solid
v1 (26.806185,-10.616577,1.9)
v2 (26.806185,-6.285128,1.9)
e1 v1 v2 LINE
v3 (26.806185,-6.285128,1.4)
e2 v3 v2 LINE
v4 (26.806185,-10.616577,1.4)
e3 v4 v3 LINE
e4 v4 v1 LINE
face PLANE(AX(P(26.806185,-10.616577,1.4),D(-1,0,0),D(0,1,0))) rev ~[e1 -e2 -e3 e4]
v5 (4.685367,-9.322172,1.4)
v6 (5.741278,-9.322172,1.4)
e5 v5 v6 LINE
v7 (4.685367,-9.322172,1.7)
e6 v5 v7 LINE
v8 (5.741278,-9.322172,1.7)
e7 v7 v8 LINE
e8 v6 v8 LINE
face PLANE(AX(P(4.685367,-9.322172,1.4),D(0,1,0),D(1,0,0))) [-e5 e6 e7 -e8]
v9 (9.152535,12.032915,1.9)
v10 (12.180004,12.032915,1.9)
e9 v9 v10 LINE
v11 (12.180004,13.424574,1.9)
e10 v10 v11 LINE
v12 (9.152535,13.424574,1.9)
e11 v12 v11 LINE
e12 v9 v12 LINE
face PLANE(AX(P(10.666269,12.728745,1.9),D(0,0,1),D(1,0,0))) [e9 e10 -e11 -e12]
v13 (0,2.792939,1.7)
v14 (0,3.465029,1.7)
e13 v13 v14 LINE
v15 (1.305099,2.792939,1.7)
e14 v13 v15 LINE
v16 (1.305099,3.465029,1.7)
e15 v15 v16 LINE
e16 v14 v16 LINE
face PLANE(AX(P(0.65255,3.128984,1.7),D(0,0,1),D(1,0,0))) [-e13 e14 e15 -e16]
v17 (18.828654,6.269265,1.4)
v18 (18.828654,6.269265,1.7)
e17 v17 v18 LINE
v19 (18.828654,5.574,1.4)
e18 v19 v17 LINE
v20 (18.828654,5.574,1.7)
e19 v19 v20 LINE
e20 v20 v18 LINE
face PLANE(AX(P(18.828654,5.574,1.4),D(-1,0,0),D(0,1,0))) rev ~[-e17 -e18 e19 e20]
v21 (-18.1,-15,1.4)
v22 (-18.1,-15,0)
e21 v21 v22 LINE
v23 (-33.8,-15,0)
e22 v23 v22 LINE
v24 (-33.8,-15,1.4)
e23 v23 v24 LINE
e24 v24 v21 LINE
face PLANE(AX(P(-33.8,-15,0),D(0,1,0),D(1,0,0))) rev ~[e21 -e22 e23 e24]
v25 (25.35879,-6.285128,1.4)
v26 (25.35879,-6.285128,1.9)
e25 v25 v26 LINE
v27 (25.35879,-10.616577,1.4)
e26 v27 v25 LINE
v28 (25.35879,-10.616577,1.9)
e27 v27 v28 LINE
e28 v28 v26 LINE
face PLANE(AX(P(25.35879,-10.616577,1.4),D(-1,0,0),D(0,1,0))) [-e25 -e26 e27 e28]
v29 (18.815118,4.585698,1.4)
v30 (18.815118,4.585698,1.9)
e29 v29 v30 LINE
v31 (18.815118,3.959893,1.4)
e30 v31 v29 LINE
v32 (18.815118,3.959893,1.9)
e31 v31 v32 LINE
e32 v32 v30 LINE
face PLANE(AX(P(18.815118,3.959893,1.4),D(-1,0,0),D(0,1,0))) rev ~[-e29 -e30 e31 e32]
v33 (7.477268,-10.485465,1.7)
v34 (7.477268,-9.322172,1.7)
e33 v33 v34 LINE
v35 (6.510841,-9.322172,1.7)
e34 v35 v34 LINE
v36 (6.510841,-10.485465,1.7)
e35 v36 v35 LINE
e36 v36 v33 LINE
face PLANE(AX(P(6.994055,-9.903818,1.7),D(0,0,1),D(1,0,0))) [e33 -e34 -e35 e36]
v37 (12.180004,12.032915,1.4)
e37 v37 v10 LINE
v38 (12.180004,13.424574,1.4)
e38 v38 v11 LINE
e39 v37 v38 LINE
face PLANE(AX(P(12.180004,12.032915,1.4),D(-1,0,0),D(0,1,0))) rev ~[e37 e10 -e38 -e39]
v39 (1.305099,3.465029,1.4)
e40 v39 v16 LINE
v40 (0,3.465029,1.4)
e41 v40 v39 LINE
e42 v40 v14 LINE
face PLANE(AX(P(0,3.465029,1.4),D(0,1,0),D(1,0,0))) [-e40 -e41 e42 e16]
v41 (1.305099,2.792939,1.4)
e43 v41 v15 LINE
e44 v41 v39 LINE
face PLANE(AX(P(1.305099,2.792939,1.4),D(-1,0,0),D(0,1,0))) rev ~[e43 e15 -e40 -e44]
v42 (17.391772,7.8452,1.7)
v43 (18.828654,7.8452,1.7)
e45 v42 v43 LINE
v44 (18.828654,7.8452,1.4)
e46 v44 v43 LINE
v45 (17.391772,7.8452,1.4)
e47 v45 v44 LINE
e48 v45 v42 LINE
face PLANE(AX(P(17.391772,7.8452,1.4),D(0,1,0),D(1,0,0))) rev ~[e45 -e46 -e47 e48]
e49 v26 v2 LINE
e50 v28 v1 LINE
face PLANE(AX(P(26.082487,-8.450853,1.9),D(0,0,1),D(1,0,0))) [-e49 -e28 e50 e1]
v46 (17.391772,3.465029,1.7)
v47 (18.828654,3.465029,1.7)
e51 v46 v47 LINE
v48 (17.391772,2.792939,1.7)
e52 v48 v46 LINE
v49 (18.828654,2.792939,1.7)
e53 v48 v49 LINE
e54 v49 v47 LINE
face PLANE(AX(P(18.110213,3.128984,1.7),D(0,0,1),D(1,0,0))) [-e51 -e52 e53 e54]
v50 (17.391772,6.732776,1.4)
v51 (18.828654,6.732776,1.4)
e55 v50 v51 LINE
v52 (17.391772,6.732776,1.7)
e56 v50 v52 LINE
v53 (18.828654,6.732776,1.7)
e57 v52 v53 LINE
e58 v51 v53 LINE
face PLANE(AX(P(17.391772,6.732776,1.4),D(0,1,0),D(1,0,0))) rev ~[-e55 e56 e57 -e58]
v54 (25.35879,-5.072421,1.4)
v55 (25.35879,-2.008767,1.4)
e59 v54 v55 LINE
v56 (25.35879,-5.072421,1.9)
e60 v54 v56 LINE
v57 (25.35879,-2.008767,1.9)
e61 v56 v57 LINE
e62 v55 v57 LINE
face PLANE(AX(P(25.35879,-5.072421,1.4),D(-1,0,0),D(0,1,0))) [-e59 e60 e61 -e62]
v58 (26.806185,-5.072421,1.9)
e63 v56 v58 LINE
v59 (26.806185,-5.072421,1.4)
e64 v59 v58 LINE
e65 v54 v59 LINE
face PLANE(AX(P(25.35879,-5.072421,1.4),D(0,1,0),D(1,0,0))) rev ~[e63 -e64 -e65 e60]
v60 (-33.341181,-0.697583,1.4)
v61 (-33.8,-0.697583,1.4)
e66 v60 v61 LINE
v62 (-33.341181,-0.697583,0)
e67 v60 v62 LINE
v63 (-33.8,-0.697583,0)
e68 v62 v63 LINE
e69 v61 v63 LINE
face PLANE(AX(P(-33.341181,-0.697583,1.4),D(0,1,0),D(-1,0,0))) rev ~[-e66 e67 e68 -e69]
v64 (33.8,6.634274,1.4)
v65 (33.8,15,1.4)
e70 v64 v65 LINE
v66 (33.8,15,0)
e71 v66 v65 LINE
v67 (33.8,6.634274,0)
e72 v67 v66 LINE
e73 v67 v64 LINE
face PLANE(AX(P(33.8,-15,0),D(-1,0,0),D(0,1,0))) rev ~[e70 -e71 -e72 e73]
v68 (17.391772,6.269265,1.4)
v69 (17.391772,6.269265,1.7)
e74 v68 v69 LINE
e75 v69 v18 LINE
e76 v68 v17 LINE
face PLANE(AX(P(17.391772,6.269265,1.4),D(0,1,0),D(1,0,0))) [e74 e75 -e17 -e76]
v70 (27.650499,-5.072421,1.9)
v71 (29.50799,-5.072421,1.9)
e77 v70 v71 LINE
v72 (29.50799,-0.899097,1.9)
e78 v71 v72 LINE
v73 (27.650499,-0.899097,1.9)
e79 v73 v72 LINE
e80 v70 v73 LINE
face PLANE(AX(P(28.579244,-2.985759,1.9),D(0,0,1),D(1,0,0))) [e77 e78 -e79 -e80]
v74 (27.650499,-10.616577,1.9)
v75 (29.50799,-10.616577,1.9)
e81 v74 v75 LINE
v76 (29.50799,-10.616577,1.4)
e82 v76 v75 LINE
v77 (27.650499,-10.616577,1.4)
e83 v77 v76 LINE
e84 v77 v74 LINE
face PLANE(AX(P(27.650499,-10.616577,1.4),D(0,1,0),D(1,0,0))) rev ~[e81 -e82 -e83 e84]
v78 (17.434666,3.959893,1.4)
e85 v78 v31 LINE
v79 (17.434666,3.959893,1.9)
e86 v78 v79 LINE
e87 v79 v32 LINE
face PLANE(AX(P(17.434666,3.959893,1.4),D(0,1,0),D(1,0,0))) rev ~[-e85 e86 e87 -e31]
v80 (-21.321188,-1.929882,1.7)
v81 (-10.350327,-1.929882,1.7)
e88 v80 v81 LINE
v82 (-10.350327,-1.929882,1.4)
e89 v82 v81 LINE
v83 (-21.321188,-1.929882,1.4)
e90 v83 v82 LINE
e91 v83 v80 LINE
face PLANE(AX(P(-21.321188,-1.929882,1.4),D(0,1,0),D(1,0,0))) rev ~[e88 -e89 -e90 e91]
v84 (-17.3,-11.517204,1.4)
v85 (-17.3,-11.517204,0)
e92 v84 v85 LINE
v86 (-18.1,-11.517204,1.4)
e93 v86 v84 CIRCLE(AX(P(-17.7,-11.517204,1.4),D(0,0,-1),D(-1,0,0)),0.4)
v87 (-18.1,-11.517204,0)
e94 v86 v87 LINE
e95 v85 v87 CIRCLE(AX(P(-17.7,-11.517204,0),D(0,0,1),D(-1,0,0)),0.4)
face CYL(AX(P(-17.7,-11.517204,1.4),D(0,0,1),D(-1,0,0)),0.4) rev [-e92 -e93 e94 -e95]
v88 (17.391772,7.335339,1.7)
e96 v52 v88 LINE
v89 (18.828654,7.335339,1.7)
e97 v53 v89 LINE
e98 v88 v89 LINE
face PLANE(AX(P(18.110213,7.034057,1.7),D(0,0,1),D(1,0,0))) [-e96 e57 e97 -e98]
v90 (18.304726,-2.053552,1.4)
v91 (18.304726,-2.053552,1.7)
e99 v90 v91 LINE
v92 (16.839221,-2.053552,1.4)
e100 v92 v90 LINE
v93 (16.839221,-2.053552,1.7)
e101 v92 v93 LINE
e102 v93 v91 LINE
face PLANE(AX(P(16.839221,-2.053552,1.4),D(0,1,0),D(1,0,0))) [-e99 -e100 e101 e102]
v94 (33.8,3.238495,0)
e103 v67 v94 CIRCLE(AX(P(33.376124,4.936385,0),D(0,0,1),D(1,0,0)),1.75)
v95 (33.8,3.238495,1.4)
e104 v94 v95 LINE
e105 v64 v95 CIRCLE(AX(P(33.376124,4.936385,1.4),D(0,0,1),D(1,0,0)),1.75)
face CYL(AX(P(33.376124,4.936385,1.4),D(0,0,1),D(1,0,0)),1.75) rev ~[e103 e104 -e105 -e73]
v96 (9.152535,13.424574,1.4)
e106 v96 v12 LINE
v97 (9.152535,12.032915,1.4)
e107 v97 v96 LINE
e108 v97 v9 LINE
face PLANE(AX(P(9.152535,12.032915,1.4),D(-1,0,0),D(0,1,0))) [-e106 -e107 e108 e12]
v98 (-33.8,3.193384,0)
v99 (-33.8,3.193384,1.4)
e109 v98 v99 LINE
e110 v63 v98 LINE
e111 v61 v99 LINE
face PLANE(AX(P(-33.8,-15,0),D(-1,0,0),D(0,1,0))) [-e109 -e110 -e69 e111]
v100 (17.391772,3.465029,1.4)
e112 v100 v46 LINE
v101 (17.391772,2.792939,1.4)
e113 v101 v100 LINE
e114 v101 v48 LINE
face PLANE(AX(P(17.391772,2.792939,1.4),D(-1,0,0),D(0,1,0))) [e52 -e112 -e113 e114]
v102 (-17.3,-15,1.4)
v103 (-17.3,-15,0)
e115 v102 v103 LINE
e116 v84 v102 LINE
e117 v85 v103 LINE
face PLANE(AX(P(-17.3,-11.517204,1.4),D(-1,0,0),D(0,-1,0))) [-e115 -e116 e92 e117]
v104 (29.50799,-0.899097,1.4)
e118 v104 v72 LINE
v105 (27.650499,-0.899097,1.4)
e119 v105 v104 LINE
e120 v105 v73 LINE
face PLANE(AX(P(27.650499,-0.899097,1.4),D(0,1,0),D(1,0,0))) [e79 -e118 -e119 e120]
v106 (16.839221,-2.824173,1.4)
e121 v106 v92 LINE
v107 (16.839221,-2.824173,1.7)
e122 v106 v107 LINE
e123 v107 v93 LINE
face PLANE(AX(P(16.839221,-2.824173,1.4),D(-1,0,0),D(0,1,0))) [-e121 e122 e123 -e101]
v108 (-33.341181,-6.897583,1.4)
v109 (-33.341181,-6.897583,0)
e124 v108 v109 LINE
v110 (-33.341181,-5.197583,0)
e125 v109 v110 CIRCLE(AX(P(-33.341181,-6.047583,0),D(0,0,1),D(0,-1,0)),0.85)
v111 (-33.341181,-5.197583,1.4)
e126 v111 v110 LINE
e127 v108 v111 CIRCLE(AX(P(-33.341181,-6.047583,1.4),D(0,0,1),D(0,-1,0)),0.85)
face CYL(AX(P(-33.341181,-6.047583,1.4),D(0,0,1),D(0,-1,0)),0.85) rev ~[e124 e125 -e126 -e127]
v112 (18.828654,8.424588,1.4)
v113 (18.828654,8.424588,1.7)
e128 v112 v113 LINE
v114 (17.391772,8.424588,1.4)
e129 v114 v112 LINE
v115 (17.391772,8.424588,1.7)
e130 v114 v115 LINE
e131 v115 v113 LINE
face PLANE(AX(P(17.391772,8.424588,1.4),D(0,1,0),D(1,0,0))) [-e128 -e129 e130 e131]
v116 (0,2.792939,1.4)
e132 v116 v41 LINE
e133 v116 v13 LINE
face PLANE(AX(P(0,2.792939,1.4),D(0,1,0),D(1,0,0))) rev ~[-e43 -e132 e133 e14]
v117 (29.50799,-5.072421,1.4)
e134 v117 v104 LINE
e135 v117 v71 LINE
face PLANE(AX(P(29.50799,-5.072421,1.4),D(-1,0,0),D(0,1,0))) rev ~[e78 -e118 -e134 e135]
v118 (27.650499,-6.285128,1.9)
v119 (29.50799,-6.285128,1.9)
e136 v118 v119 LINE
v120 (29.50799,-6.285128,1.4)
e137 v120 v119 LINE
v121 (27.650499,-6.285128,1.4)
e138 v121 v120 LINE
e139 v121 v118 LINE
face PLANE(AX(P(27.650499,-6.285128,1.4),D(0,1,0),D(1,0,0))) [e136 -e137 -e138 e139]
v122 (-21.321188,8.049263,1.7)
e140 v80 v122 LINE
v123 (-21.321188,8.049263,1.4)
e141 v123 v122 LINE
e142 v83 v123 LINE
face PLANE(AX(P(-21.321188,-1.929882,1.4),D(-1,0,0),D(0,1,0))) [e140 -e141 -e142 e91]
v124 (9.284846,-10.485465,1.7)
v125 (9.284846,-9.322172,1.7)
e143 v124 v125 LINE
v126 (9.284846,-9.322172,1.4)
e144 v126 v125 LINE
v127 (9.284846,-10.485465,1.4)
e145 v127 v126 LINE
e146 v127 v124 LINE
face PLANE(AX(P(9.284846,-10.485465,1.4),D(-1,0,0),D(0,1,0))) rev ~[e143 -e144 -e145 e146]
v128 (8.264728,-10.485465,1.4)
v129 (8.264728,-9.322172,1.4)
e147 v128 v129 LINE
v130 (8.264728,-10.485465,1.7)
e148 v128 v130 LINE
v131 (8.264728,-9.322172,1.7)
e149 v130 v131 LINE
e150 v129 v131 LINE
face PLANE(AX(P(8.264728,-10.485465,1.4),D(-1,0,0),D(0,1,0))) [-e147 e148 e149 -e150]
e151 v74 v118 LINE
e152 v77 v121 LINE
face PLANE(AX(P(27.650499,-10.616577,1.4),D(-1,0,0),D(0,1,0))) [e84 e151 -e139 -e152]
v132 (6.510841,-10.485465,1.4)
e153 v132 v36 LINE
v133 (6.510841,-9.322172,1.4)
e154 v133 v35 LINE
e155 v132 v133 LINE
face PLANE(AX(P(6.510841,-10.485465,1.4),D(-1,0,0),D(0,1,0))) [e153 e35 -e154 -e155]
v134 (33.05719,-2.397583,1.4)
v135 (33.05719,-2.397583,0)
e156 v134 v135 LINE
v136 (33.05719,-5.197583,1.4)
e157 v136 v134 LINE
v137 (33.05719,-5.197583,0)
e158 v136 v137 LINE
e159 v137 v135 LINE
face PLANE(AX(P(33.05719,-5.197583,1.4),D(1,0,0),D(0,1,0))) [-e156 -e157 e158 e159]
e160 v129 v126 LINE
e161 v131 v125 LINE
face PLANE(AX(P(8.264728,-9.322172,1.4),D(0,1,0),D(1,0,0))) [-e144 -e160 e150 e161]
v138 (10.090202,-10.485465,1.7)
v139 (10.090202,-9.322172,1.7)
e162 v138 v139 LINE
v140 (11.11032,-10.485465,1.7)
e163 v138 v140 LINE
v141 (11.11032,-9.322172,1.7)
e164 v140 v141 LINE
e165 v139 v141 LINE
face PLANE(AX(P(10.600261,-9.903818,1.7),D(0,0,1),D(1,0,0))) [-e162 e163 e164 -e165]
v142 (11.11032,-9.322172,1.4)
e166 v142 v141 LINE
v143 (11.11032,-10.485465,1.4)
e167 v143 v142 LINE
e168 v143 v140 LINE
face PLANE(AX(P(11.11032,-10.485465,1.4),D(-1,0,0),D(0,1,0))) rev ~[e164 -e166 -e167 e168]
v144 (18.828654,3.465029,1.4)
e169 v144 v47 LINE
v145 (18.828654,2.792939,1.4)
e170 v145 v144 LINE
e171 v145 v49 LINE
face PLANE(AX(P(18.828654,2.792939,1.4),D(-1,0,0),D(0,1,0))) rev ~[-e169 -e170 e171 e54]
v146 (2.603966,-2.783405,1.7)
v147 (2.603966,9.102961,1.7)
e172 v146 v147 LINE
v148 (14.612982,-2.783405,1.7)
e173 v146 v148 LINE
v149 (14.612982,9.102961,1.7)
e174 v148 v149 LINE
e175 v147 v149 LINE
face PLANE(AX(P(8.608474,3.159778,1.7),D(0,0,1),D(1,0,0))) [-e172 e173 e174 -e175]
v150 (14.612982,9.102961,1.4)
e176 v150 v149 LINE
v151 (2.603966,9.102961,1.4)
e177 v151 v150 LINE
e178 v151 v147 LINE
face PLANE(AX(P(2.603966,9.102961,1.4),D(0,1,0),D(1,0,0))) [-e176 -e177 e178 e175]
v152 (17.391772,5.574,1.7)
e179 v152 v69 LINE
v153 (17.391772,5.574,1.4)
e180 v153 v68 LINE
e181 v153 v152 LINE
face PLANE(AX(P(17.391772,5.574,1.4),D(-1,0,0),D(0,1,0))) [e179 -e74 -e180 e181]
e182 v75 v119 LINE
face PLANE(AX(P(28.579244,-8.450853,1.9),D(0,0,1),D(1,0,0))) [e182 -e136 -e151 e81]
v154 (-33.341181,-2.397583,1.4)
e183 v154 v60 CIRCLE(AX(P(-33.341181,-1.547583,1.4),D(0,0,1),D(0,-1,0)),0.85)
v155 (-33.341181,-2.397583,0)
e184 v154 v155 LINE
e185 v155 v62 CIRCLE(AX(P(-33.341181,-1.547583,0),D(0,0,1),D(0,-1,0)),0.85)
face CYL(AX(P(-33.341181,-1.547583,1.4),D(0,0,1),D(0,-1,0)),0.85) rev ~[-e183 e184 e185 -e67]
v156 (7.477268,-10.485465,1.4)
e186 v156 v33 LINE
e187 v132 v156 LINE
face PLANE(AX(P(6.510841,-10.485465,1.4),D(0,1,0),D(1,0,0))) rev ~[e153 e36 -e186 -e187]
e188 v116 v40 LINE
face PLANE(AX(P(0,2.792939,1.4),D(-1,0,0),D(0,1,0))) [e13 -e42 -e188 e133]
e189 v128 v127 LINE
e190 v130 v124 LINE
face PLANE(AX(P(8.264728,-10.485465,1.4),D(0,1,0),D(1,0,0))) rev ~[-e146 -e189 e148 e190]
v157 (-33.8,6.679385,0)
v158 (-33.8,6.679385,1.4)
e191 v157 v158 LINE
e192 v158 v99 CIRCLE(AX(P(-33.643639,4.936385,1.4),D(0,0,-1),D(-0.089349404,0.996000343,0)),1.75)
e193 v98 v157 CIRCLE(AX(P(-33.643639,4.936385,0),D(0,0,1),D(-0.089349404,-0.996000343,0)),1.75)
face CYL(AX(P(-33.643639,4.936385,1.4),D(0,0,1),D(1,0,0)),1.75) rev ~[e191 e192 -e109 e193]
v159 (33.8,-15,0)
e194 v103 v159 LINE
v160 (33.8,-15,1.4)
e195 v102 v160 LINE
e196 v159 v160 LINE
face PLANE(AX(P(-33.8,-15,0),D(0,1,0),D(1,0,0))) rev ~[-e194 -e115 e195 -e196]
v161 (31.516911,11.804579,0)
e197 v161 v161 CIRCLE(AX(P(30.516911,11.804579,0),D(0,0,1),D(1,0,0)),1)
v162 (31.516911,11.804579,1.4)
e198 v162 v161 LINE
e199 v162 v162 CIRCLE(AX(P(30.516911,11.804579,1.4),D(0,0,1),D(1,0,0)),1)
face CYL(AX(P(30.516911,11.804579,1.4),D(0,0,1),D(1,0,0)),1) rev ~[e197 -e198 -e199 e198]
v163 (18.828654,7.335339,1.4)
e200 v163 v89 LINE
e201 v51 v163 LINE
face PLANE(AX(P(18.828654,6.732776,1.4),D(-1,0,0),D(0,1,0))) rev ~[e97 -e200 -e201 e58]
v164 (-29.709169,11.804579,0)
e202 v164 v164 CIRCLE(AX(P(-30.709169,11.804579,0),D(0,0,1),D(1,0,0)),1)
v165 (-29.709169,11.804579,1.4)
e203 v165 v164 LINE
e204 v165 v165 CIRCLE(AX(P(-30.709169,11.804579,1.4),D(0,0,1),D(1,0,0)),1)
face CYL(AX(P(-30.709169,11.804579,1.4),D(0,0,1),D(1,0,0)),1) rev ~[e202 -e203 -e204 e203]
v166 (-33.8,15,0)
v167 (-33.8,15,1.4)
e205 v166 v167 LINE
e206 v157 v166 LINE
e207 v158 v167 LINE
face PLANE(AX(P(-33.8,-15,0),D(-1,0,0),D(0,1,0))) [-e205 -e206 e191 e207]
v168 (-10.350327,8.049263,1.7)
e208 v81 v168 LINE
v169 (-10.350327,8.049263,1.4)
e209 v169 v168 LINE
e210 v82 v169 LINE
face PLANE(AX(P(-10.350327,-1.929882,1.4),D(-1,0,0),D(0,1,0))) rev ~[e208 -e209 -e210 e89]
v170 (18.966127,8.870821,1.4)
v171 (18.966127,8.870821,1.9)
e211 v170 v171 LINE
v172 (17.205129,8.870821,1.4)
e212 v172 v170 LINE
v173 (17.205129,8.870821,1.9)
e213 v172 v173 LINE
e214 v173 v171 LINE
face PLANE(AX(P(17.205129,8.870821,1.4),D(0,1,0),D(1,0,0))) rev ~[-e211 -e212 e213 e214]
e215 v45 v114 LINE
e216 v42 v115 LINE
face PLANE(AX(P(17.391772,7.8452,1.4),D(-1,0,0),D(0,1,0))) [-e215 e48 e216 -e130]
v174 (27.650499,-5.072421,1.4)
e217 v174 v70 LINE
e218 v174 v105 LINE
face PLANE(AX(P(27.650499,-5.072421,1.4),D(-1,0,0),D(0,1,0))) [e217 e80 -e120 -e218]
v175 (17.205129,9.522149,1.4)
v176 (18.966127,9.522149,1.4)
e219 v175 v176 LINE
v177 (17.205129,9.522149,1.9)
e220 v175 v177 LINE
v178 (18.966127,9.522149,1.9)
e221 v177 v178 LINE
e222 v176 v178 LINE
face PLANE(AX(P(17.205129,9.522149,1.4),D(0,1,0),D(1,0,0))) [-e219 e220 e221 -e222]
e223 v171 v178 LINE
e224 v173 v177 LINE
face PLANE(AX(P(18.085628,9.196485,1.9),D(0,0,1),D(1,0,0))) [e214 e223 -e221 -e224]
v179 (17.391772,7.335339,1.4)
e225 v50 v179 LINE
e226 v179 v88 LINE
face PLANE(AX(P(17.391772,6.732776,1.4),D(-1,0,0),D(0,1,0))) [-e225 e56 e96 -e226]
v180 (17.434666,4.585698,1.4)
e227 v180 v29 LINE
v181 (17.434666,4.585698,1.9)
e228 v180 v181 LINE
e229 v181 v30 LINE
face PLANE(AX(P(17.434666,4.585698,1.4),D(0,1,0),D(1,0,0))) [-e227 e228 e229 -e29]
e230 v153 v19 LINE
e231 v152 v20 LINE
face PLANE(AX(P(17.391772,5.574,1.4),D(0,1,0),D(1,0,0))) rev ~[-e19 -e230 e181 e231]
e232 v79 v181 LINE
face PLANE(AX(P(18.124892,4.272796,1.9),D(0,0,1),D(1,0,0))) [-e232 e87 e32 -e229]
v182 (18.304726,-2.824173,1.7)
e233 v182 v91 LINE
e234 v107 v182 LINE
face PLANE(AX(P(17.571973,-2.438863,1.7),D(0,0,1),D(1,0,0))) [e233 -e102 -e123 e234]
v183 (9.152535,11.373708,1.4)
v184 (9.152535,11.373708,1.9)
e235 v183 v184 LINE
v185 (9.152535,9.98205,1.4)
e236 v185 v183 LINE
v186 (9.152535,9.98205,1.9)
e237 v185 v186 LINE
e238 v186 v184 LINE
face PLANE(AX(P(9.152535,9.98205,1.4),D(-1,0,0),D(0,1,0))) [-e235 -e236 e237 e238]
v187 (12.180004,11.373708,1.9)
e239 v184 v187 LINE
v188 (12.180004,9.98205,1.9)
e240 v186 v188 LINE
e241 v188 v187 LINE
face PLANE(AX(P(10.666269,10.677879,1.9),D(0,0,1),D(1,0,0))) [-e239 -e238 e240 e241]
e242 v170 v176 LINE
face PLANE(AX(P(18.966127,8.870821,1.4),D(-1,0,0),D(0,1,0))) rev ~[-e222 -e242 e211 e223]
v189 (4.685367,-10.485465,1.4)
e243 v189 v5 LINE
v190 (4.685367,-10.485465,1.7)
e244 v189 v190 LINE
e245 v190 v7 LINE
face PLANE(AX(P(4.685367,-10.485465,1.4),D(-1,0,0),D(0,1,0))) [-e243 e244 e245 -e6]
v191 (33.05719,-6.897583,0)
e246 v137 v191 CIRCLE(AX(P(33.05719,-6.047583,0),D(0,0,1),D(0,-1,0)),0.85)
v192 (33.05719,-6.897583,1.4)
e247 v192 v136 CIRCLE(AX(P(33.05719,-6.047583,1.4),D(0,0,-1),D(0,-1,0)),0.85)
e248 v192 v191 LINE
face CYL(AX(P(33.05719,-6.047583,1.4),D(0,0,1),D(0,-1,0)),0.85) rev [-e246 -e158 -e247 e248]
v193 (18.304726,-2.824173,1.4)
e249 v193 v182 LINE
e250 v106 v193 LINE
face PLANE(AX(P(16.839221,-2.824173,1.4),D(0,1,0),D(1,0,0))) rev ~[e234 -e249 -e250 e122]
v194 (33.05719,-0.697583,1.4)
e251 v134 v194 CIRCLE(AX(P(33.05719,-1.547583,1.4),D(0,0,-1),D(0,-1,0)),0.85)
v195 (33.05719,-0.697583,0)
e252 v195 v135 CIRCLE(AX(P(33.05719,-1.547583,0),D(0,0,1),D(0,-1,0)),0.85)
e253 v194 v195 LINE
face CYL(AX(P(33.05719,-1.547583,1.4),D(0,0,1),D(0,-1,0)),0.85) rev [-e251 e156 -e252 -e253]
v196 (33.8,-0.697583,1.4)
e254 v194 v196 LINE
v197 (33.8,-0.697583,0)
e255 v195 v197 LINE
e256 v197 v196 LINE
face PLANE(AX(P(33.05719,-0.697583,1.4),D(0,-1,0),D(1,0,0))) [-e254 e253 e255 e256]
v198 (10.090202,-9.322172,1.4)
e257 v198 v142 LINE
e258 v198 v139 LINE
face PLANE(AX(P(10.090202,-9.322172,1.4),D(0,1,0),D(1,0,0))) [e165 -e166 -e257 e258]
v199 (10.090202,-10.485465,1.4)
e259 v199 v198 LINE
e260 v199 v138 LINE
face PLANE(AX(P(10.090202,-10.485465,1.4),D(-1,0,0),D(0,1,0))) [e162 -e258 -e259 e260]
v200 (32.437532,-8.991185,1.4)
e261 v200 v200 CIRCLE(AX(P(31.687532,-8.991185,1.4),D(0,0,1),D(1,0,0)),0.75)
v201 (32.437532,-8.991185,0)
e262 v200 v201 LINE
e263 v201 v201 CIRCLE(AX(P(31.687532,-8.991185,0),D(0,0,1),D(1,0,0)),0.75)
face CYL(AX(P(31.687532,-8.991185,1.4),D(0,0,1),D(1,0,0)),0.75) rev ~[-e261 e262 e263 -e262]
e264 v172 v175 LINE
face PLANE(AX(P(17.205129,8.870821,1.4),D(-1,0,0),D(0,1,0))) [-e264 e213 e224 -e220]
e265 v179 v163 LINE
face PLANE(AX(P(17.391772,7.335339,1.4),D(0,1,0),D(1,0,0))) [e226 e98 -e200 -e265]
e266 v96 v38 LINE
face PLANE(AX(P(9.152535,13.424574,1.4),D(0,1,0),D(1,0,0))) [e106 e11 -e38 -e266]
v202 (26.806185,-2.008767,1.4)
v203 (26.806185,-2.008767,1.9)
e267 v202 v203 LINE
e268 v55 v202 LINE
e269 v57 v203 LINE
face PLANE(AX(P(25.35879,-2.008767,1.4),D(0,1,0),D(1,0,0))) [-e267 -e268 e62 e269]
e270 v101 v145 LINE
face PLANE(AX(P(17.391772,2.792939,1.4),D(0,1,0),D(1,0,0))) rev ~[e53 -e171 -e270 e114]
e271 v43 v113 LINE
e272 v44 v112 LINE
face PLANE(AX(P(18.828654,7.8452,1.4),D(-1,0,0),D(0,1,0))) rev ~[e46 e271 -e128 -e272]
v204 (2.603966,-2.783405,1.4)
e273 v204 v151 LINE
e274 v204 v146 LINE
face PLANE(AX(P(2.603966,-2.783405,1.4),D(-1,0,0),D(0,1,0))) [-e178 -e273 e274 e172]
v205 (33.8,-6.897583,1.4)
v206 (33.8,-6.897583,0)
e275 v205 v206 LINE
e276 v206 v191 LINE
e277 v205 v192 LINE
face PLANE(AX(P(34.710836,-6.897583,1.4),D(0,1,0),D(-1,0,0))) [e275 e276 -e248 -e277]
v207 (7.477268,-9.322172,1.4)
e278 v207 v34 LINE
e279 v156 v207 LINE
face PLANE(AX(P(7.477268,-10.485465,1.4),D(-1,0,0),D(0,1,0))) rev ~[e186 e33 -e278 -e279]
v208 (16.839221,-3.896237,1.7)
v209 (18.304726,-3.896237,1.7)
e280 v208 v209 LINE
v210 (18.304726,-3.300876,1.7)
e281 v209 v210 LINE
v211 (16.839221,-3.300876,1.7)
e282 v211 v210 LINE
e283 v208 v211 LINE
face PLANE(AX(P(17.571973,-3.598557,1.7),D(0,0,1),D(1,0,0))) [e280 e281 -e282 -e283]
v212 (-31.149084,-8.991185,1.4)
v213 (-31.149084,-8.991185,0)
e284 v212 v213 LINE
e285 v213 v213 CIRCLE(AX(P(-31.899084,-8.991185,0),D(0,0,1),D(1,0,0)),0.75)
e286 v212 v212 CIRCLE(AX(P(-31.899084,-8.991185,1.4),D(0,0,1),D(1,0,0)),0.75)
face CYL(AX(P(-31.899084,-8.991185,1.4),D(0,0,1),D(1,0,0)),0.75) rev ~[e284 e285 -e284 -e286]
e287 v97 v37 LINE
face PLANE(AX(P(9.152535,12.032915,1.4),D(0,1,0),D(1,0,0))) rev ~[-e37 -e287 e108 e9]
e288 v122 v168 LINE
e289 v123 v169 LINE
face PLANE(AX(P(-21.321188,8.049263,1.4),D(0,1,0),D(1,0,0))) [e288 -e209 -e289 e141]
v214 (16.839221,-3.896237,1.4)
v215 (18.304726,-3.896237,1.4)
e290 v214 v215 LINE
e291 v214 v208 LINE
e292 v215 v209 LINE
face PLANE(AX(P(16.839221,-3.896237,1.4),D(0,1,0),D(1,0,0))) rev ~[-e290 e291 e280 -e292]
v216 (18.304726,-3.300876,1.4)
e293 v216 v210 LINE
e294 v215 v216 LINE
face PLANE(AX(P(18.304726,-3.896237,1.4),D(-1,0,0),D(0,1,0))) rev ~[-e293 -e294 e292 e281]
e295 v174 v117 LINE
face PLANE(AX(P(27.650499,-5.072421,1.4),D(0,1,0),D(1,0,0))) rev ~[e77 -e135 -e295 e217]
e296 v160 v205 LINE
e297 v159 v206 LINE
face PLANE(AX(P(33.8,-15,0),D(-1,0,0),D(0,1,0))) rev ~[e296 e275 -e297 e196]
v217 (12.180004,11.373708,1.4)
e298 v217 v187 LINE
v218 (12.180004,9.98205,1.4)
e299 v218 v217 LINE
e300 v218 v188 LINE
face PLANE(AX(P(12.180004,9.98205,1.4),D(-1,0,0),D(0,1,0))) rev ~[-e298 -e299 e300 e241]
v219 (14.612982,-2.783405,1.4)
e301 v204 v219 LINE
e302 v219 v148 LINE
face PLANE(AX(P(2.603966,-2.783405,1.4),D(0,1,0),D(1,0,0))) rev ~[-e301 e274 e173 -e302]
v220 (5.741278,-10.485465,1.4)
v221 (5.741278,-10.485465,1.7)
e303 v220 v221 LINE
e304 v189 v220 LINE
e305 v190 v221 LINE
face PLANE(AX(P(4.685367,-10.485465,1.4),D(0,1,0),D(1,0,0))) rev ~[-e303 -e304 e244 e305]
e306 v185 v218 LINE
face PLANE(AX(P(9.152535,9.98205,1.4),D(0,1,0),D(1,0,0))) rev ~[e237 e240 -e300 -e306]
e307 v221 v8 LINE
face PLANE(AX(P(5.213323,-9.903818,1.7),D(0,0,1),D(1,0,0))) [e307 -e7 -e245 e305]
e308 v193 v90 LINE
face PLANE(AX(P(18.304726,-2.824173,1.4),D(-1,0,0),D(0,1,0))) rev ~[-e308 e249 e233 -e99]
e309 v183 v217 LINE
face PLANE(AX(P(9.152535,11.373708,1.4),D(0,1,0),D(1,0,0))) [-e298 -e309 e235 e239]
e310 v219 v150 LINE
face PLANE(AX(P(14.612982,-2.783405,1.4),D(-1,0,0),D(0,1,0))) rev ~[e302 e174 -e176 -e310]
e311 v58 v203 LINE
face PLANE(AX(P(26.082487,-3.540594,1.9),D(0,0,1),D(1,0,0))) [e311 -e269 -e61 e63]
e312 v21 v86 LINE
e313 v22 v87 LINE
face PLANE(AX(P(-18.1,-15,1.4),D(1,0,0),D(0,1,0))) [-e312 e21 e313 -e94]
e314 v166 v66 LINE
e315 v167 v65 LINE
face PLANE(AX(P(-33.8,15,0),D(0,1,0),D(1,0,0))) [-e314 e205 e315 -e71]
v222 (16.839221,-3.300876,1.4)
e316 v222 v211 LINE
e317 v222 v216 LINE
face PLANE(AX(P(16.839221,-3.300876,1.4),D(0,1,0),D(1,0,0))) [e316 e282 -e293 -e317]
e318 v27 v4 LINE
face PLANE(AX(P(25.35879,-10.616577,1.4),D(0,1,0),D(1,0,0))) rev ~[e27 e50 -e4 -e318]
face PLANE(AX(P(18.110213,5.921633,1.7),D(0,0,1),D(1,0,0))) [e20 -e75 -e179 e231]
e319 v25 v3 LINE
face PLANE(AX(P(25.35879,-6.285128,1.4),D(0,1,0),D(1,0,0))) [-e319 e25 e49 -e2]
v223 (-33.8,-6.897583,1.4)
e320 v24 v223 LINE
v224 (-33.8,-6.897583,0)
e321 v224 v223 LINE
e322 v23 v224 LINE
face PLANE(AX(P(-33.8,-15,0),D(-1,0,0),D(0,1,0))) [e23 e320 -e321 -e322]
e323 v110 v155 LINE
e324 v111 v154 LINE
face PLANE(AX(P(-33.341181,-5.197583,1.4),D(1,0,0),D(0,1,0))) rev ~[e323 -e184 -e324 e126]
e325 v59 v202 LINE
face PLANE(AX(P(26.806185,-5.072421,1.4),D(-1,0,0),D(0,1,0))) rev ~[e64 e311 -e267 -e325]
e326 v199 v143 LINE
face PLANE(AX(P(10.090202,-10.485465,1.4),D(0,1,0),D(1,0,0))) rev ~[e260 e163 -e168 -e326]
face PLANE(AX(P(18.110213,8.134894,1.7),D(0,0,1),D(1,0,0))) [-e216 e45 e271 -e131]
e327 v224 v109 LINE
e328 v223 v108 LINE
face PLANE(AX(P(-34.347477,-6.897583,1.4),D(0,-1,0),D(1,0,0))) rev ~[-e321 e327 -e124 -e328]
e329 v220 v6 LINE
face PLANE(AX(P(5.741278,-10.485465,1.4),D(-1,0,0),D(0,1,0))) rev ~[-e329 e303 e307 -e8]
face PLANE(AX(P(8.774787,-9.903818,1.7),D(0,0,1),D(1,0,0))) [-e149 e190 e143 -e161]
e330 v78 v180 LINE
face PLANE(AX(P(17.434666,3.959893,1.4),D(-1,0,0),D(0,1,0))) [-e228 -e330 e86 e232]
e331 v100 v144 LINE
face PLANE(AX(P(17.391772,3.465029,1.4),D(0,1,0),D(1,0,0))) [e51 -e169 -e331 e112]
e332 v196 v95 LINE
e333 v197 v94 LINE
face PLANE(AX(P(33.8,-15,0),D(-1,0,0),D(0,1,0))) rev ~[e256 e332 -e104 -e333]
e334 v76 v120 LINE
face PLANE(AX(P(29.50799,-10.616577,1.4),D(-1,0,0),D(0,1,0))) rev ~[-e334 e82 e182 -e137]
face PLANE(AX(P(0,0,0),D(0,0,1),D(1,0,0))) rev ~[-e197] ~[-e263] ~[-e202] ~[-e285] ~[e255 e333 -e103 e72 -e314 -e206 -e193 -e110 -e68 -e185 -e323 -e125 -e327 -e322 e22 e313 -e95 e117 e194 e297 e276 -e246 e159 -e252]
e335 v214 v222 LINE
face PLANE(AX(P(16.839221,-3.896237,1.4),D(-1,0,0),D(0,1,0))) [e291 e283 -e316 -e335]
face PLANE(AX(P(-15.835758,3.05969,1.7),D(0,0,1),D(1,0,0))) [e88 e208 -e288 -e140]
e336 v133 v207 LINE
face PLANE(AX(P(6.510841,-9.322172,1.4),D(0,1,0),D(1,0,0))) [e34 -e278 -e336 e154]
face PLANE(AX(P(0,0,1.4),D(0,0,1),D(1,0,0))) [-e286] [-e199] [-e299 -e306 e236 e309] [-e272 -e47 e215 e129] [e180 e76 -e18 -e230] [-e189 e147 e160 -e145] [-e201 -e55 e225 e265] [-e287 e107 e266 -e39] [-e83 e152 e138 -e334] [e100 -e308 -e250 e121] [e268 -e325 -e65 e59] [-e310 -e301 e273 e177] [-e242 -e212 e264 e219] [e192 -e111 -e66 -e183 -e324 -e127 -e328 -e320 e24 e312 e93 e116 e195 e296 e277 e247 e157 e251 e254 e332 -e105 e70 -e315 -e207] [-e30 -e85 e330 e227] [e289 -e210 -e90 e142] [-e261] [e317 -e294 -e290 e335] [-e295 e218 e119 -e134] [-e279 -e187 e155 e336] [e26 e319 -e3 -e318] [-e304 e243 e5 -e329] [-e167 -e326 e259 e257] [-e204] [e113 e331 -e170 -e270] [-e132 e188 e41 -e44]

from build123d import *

# Parameters (mm, degrees)
SKETCH1_W         = 67.6
SKETCH1_H         = 30
SUBSTRATE_DEPTH   = 1.4
SKETCH2_R         = 1
SKETCH2_R_2       = 0.75
SKETCH2_R_3       = 1.75
CUTOUTS_DEPTH     = 2
SKETCH3_W         = 12.009016129
SKETCH3_H         = 11.886366808
SKETCH3_W_2       = 10.970861006
SKETCH3_H_2       = 9.979144757
CHIPS_DEPTH       = 0.3
SKETCH4_W         = 3.027468224
SKETCH4_H         = 1.391658781
SKETCH4_H_2       = 1.39165878
SKETCH4_W_2       = 1.760997679
SKETCH4_H_3       = 0.651327909
SKETCH4_W_3       = 1.447395353
SKETCH4_H_4       = 3.063653498
SKETCH4_W_4       = 1.857490704
SKETCH4_H_5       = 4.173323269
SKETCH4_H_6       = 4.331448702
SKETCH4_W_5       = 1.380452242
SKETCH4_H_7       = 0.625805016
CAPACITORS_DEPTH  = 0.5
SKETCH5_W         = 1.436881646
SKETCH5_H         = 0.57938776
SKETCH5_H_2       = 0.602563271
SKETCH5_H_3       = 0.695265312
SKETCH5_H_4       = 0.672089802
SKETCH5_W_2       = 1.465504975
SKETCH5_H_5       = 0.595361396
SKETCH5_W_3       = 1.305099019
SKETCH5_H_6       = 0.770620802
RESISTORS_DEPTH   = 0.3
SKETCH6_W         = 1.05591146
SKETCH6_H         = 1.163292287
SKETCH6_W_2       = 0.966427438
SKETCH6_W_3       = 1.020117852
SKETCH6_W_4       = 1.020117851
L_COMPONENT_DEPTH = 0.3


with BuildPart() as part:
    # Sketch1 → Substrate (new body)
    with BuildSketch(Plane.XY):
        Rectangle(SKETCH1_W, SKETCH1_H)
    extrude(amount=SUBSTRATE_DEPTH)

    # Sketch2 → Cutouts (cut)
    with BuildSketch(Plane.XY.offset(1.4)):
        with Locations((-30.709168608, 11.804578588)):
            Circle(SKETCH2_R)
        with Locations((30.516911038, 11.804578588)):
            Circle(SKETCH2_R)
        with Locations((31.687531572, -8.991184565)):
            Circle(SKETCH2_R_2)
        with Locations((-31.899083746, -8.991184565)):
            Circle(SKETCH2_R_2)
        with Locations((-33.643638543, 4.936384587)):
            Circle(SKETCH2_R_3)
        with Locations((33.376123728, 4.936384587)):
            Circle(SKETCH2_R_3)
        with BuildLine():
            Line((-18.1, -15), (-18.1, -11.517203937))
            ThreePointArc((-18.1, -11.517203937), (-17.7, -11.117203937), (-17.3, -11.517203937))
            Line((-17.3, -11.517203937), (-17.3, -15))
            Line((-17.3, -15), (-18.1, -15))
        make_face()
        with BuildLine():
            Line((33.057190194, -0.69758335), (34.638090789, -0.69758335))
            Line((34.638090789, -0.69758335), (34.710836401, -6.89758335))
            Line((34.710836401, -6.89758335), (33.057190194, -6.89758335))
            ThreePointArc((33.057190194, -6.89758335), (32.207190194, -6.04758335), (33.057190194, -5.19758335))
            Line((33.057190194, -5.19758335), (33.057190194, -2.39758335))
            ThreePointArc((33.057190194, -2.39758335), (32.207190194, -1.54758335), (33.057190194, -0.69758335))
        make_face()
        with BuildLine():
            Line((-33.341181022, -5.19758335), (-33.341181022, -2.39758335))
            ThreePointArc((-33.341181022, -2.39758335), (-32.491181022, -1.54758335), (-33.341181022, -0.69758335))
            Line((-33.341181022, -0.69758335), (-34.347477131, -0.69758335))
            Line((-34.347477131, -0.69758335), (-34.347477131, -6.89758335))
            Line((-34.347477131, -6.89758335), (-33.341181022, -6.89758335))
            ThreePointArc((-33.341181022, -6.89758335), (-32.491181022, -6.04758335), (-33.341181022, -5.19758335))
        make_face()
    extrude(amount=-CUTOUTS_DEPTH, mode=Mode.SUBTRACT)

    # Sketch3 → Chips (add)
    with BuildSketch(Plane.XY.offset(1.4)):
        with Locations((8.608474284, 3.159777946)):
            Rectangle(SKETCH3_W, SKETCH3_H)
        with Locations((-15.835757789, 3.059690457)):
            Rectangle(SKETCH3_W_2, SKETCH3_H_2)
    extrude(amount=CHIPS_DEPTH)

    # Sketch4 → Capacitors (add)
    with BuildSketch(Plane.XY.offset(1.4)):
        with Locations((10.666269416, 12.728744546)):
            Rectangle(SKETCH4_W, SKETCH4_H)
        with Locations((10.666269416, 10.677878974)):
            Rectangle(SKETCH4_W, SKETCH4_H_2)
        with Locations((18.085628066, 9.196485107)):
            Rectangle(SKETCH4_W_2, SKETCH4_H_3)
        with Locations((26.082487394, -3.540594003)):
            Rectangle(SKETCH4_W_3, SKETCH4_H_4)
        with Locations((28.579244378, -2.985759118)):
            Rectangle(SKETCH4_W_4, SKETCH4_H_5)
        with Locations((28.579244378, -8.450852566)):
            Rectangle(SKETCH4_W_4, SKETCH4_H_6)
        with Locations((26.082487394, -8.450852566)):
            Rectangle(SKETCH4_W_3, SKETCH4_H_6)
        with Locations((18.124891861, 4.272795947)):
            Rectangle(SKETCH4_W_5, SKETCH4_H_7)
    extrude(amount=CAPACITORS_DEPTH)

    # Sketch5 → Resistors (add)
    with BuildSketch(Plane.XY.offset(1.4)):
        with Locations((18.11021309, 8.134894019)):
            Rectangle(SKETCH5_W, SKETCH5_H)
        with Locations((18.11021309, 7.034057275)):
            Rectangle(SKETCH5_W, SKETCH5_H_2)
        with Locations((18.11021309, 5.921632774)):
            Rectangle(SKETCH5_W, SKETCH5_H_3)
        with Locations((18.11021309, 3.128983768)):
            Rectangle(SKETCH5_W, SKETCH5_H_4)
        with Locations((17.571973081, -3.598556709)):
            Rectangle(SKETCH5_W_2, SKETCH5_H_5)
        with Locations((0.65254951, 3.128983768)):
            Rectangle(SKETCH5_W_3, SKETCH5_H_4)
        with Locations((17.571973081, -2.438862849)):
            Rectangle(SKETCH5_W_2, SKETCH5_H_6)
    extrude(amount=RESISTORS_DEPTH)

    # Sketch6 → L Component (add)
    with BuildSketch(Plane.XY.offset(1.4)):
        with Locations((5.21332261, -9.903818455)):
            Rectangle(SKETCH6_W, SKETCH6_H)
        with Locations((6.994054649, -9.903818455)):
            Rectangle(SKETCH6_W_2, SKETCH6_H)
        with Locations((8.774786688, -9.903818455)):
            Rectangle(SKETCH6_W_3, SKETCH6_H)
        with Locations((10.600260739, -9.903818455)):
            Rectangle(SKETCH6_W_4, SKETCH6_H)
    extrude(amount=L_COMPONENT_DEPTH)


solid = part.part
